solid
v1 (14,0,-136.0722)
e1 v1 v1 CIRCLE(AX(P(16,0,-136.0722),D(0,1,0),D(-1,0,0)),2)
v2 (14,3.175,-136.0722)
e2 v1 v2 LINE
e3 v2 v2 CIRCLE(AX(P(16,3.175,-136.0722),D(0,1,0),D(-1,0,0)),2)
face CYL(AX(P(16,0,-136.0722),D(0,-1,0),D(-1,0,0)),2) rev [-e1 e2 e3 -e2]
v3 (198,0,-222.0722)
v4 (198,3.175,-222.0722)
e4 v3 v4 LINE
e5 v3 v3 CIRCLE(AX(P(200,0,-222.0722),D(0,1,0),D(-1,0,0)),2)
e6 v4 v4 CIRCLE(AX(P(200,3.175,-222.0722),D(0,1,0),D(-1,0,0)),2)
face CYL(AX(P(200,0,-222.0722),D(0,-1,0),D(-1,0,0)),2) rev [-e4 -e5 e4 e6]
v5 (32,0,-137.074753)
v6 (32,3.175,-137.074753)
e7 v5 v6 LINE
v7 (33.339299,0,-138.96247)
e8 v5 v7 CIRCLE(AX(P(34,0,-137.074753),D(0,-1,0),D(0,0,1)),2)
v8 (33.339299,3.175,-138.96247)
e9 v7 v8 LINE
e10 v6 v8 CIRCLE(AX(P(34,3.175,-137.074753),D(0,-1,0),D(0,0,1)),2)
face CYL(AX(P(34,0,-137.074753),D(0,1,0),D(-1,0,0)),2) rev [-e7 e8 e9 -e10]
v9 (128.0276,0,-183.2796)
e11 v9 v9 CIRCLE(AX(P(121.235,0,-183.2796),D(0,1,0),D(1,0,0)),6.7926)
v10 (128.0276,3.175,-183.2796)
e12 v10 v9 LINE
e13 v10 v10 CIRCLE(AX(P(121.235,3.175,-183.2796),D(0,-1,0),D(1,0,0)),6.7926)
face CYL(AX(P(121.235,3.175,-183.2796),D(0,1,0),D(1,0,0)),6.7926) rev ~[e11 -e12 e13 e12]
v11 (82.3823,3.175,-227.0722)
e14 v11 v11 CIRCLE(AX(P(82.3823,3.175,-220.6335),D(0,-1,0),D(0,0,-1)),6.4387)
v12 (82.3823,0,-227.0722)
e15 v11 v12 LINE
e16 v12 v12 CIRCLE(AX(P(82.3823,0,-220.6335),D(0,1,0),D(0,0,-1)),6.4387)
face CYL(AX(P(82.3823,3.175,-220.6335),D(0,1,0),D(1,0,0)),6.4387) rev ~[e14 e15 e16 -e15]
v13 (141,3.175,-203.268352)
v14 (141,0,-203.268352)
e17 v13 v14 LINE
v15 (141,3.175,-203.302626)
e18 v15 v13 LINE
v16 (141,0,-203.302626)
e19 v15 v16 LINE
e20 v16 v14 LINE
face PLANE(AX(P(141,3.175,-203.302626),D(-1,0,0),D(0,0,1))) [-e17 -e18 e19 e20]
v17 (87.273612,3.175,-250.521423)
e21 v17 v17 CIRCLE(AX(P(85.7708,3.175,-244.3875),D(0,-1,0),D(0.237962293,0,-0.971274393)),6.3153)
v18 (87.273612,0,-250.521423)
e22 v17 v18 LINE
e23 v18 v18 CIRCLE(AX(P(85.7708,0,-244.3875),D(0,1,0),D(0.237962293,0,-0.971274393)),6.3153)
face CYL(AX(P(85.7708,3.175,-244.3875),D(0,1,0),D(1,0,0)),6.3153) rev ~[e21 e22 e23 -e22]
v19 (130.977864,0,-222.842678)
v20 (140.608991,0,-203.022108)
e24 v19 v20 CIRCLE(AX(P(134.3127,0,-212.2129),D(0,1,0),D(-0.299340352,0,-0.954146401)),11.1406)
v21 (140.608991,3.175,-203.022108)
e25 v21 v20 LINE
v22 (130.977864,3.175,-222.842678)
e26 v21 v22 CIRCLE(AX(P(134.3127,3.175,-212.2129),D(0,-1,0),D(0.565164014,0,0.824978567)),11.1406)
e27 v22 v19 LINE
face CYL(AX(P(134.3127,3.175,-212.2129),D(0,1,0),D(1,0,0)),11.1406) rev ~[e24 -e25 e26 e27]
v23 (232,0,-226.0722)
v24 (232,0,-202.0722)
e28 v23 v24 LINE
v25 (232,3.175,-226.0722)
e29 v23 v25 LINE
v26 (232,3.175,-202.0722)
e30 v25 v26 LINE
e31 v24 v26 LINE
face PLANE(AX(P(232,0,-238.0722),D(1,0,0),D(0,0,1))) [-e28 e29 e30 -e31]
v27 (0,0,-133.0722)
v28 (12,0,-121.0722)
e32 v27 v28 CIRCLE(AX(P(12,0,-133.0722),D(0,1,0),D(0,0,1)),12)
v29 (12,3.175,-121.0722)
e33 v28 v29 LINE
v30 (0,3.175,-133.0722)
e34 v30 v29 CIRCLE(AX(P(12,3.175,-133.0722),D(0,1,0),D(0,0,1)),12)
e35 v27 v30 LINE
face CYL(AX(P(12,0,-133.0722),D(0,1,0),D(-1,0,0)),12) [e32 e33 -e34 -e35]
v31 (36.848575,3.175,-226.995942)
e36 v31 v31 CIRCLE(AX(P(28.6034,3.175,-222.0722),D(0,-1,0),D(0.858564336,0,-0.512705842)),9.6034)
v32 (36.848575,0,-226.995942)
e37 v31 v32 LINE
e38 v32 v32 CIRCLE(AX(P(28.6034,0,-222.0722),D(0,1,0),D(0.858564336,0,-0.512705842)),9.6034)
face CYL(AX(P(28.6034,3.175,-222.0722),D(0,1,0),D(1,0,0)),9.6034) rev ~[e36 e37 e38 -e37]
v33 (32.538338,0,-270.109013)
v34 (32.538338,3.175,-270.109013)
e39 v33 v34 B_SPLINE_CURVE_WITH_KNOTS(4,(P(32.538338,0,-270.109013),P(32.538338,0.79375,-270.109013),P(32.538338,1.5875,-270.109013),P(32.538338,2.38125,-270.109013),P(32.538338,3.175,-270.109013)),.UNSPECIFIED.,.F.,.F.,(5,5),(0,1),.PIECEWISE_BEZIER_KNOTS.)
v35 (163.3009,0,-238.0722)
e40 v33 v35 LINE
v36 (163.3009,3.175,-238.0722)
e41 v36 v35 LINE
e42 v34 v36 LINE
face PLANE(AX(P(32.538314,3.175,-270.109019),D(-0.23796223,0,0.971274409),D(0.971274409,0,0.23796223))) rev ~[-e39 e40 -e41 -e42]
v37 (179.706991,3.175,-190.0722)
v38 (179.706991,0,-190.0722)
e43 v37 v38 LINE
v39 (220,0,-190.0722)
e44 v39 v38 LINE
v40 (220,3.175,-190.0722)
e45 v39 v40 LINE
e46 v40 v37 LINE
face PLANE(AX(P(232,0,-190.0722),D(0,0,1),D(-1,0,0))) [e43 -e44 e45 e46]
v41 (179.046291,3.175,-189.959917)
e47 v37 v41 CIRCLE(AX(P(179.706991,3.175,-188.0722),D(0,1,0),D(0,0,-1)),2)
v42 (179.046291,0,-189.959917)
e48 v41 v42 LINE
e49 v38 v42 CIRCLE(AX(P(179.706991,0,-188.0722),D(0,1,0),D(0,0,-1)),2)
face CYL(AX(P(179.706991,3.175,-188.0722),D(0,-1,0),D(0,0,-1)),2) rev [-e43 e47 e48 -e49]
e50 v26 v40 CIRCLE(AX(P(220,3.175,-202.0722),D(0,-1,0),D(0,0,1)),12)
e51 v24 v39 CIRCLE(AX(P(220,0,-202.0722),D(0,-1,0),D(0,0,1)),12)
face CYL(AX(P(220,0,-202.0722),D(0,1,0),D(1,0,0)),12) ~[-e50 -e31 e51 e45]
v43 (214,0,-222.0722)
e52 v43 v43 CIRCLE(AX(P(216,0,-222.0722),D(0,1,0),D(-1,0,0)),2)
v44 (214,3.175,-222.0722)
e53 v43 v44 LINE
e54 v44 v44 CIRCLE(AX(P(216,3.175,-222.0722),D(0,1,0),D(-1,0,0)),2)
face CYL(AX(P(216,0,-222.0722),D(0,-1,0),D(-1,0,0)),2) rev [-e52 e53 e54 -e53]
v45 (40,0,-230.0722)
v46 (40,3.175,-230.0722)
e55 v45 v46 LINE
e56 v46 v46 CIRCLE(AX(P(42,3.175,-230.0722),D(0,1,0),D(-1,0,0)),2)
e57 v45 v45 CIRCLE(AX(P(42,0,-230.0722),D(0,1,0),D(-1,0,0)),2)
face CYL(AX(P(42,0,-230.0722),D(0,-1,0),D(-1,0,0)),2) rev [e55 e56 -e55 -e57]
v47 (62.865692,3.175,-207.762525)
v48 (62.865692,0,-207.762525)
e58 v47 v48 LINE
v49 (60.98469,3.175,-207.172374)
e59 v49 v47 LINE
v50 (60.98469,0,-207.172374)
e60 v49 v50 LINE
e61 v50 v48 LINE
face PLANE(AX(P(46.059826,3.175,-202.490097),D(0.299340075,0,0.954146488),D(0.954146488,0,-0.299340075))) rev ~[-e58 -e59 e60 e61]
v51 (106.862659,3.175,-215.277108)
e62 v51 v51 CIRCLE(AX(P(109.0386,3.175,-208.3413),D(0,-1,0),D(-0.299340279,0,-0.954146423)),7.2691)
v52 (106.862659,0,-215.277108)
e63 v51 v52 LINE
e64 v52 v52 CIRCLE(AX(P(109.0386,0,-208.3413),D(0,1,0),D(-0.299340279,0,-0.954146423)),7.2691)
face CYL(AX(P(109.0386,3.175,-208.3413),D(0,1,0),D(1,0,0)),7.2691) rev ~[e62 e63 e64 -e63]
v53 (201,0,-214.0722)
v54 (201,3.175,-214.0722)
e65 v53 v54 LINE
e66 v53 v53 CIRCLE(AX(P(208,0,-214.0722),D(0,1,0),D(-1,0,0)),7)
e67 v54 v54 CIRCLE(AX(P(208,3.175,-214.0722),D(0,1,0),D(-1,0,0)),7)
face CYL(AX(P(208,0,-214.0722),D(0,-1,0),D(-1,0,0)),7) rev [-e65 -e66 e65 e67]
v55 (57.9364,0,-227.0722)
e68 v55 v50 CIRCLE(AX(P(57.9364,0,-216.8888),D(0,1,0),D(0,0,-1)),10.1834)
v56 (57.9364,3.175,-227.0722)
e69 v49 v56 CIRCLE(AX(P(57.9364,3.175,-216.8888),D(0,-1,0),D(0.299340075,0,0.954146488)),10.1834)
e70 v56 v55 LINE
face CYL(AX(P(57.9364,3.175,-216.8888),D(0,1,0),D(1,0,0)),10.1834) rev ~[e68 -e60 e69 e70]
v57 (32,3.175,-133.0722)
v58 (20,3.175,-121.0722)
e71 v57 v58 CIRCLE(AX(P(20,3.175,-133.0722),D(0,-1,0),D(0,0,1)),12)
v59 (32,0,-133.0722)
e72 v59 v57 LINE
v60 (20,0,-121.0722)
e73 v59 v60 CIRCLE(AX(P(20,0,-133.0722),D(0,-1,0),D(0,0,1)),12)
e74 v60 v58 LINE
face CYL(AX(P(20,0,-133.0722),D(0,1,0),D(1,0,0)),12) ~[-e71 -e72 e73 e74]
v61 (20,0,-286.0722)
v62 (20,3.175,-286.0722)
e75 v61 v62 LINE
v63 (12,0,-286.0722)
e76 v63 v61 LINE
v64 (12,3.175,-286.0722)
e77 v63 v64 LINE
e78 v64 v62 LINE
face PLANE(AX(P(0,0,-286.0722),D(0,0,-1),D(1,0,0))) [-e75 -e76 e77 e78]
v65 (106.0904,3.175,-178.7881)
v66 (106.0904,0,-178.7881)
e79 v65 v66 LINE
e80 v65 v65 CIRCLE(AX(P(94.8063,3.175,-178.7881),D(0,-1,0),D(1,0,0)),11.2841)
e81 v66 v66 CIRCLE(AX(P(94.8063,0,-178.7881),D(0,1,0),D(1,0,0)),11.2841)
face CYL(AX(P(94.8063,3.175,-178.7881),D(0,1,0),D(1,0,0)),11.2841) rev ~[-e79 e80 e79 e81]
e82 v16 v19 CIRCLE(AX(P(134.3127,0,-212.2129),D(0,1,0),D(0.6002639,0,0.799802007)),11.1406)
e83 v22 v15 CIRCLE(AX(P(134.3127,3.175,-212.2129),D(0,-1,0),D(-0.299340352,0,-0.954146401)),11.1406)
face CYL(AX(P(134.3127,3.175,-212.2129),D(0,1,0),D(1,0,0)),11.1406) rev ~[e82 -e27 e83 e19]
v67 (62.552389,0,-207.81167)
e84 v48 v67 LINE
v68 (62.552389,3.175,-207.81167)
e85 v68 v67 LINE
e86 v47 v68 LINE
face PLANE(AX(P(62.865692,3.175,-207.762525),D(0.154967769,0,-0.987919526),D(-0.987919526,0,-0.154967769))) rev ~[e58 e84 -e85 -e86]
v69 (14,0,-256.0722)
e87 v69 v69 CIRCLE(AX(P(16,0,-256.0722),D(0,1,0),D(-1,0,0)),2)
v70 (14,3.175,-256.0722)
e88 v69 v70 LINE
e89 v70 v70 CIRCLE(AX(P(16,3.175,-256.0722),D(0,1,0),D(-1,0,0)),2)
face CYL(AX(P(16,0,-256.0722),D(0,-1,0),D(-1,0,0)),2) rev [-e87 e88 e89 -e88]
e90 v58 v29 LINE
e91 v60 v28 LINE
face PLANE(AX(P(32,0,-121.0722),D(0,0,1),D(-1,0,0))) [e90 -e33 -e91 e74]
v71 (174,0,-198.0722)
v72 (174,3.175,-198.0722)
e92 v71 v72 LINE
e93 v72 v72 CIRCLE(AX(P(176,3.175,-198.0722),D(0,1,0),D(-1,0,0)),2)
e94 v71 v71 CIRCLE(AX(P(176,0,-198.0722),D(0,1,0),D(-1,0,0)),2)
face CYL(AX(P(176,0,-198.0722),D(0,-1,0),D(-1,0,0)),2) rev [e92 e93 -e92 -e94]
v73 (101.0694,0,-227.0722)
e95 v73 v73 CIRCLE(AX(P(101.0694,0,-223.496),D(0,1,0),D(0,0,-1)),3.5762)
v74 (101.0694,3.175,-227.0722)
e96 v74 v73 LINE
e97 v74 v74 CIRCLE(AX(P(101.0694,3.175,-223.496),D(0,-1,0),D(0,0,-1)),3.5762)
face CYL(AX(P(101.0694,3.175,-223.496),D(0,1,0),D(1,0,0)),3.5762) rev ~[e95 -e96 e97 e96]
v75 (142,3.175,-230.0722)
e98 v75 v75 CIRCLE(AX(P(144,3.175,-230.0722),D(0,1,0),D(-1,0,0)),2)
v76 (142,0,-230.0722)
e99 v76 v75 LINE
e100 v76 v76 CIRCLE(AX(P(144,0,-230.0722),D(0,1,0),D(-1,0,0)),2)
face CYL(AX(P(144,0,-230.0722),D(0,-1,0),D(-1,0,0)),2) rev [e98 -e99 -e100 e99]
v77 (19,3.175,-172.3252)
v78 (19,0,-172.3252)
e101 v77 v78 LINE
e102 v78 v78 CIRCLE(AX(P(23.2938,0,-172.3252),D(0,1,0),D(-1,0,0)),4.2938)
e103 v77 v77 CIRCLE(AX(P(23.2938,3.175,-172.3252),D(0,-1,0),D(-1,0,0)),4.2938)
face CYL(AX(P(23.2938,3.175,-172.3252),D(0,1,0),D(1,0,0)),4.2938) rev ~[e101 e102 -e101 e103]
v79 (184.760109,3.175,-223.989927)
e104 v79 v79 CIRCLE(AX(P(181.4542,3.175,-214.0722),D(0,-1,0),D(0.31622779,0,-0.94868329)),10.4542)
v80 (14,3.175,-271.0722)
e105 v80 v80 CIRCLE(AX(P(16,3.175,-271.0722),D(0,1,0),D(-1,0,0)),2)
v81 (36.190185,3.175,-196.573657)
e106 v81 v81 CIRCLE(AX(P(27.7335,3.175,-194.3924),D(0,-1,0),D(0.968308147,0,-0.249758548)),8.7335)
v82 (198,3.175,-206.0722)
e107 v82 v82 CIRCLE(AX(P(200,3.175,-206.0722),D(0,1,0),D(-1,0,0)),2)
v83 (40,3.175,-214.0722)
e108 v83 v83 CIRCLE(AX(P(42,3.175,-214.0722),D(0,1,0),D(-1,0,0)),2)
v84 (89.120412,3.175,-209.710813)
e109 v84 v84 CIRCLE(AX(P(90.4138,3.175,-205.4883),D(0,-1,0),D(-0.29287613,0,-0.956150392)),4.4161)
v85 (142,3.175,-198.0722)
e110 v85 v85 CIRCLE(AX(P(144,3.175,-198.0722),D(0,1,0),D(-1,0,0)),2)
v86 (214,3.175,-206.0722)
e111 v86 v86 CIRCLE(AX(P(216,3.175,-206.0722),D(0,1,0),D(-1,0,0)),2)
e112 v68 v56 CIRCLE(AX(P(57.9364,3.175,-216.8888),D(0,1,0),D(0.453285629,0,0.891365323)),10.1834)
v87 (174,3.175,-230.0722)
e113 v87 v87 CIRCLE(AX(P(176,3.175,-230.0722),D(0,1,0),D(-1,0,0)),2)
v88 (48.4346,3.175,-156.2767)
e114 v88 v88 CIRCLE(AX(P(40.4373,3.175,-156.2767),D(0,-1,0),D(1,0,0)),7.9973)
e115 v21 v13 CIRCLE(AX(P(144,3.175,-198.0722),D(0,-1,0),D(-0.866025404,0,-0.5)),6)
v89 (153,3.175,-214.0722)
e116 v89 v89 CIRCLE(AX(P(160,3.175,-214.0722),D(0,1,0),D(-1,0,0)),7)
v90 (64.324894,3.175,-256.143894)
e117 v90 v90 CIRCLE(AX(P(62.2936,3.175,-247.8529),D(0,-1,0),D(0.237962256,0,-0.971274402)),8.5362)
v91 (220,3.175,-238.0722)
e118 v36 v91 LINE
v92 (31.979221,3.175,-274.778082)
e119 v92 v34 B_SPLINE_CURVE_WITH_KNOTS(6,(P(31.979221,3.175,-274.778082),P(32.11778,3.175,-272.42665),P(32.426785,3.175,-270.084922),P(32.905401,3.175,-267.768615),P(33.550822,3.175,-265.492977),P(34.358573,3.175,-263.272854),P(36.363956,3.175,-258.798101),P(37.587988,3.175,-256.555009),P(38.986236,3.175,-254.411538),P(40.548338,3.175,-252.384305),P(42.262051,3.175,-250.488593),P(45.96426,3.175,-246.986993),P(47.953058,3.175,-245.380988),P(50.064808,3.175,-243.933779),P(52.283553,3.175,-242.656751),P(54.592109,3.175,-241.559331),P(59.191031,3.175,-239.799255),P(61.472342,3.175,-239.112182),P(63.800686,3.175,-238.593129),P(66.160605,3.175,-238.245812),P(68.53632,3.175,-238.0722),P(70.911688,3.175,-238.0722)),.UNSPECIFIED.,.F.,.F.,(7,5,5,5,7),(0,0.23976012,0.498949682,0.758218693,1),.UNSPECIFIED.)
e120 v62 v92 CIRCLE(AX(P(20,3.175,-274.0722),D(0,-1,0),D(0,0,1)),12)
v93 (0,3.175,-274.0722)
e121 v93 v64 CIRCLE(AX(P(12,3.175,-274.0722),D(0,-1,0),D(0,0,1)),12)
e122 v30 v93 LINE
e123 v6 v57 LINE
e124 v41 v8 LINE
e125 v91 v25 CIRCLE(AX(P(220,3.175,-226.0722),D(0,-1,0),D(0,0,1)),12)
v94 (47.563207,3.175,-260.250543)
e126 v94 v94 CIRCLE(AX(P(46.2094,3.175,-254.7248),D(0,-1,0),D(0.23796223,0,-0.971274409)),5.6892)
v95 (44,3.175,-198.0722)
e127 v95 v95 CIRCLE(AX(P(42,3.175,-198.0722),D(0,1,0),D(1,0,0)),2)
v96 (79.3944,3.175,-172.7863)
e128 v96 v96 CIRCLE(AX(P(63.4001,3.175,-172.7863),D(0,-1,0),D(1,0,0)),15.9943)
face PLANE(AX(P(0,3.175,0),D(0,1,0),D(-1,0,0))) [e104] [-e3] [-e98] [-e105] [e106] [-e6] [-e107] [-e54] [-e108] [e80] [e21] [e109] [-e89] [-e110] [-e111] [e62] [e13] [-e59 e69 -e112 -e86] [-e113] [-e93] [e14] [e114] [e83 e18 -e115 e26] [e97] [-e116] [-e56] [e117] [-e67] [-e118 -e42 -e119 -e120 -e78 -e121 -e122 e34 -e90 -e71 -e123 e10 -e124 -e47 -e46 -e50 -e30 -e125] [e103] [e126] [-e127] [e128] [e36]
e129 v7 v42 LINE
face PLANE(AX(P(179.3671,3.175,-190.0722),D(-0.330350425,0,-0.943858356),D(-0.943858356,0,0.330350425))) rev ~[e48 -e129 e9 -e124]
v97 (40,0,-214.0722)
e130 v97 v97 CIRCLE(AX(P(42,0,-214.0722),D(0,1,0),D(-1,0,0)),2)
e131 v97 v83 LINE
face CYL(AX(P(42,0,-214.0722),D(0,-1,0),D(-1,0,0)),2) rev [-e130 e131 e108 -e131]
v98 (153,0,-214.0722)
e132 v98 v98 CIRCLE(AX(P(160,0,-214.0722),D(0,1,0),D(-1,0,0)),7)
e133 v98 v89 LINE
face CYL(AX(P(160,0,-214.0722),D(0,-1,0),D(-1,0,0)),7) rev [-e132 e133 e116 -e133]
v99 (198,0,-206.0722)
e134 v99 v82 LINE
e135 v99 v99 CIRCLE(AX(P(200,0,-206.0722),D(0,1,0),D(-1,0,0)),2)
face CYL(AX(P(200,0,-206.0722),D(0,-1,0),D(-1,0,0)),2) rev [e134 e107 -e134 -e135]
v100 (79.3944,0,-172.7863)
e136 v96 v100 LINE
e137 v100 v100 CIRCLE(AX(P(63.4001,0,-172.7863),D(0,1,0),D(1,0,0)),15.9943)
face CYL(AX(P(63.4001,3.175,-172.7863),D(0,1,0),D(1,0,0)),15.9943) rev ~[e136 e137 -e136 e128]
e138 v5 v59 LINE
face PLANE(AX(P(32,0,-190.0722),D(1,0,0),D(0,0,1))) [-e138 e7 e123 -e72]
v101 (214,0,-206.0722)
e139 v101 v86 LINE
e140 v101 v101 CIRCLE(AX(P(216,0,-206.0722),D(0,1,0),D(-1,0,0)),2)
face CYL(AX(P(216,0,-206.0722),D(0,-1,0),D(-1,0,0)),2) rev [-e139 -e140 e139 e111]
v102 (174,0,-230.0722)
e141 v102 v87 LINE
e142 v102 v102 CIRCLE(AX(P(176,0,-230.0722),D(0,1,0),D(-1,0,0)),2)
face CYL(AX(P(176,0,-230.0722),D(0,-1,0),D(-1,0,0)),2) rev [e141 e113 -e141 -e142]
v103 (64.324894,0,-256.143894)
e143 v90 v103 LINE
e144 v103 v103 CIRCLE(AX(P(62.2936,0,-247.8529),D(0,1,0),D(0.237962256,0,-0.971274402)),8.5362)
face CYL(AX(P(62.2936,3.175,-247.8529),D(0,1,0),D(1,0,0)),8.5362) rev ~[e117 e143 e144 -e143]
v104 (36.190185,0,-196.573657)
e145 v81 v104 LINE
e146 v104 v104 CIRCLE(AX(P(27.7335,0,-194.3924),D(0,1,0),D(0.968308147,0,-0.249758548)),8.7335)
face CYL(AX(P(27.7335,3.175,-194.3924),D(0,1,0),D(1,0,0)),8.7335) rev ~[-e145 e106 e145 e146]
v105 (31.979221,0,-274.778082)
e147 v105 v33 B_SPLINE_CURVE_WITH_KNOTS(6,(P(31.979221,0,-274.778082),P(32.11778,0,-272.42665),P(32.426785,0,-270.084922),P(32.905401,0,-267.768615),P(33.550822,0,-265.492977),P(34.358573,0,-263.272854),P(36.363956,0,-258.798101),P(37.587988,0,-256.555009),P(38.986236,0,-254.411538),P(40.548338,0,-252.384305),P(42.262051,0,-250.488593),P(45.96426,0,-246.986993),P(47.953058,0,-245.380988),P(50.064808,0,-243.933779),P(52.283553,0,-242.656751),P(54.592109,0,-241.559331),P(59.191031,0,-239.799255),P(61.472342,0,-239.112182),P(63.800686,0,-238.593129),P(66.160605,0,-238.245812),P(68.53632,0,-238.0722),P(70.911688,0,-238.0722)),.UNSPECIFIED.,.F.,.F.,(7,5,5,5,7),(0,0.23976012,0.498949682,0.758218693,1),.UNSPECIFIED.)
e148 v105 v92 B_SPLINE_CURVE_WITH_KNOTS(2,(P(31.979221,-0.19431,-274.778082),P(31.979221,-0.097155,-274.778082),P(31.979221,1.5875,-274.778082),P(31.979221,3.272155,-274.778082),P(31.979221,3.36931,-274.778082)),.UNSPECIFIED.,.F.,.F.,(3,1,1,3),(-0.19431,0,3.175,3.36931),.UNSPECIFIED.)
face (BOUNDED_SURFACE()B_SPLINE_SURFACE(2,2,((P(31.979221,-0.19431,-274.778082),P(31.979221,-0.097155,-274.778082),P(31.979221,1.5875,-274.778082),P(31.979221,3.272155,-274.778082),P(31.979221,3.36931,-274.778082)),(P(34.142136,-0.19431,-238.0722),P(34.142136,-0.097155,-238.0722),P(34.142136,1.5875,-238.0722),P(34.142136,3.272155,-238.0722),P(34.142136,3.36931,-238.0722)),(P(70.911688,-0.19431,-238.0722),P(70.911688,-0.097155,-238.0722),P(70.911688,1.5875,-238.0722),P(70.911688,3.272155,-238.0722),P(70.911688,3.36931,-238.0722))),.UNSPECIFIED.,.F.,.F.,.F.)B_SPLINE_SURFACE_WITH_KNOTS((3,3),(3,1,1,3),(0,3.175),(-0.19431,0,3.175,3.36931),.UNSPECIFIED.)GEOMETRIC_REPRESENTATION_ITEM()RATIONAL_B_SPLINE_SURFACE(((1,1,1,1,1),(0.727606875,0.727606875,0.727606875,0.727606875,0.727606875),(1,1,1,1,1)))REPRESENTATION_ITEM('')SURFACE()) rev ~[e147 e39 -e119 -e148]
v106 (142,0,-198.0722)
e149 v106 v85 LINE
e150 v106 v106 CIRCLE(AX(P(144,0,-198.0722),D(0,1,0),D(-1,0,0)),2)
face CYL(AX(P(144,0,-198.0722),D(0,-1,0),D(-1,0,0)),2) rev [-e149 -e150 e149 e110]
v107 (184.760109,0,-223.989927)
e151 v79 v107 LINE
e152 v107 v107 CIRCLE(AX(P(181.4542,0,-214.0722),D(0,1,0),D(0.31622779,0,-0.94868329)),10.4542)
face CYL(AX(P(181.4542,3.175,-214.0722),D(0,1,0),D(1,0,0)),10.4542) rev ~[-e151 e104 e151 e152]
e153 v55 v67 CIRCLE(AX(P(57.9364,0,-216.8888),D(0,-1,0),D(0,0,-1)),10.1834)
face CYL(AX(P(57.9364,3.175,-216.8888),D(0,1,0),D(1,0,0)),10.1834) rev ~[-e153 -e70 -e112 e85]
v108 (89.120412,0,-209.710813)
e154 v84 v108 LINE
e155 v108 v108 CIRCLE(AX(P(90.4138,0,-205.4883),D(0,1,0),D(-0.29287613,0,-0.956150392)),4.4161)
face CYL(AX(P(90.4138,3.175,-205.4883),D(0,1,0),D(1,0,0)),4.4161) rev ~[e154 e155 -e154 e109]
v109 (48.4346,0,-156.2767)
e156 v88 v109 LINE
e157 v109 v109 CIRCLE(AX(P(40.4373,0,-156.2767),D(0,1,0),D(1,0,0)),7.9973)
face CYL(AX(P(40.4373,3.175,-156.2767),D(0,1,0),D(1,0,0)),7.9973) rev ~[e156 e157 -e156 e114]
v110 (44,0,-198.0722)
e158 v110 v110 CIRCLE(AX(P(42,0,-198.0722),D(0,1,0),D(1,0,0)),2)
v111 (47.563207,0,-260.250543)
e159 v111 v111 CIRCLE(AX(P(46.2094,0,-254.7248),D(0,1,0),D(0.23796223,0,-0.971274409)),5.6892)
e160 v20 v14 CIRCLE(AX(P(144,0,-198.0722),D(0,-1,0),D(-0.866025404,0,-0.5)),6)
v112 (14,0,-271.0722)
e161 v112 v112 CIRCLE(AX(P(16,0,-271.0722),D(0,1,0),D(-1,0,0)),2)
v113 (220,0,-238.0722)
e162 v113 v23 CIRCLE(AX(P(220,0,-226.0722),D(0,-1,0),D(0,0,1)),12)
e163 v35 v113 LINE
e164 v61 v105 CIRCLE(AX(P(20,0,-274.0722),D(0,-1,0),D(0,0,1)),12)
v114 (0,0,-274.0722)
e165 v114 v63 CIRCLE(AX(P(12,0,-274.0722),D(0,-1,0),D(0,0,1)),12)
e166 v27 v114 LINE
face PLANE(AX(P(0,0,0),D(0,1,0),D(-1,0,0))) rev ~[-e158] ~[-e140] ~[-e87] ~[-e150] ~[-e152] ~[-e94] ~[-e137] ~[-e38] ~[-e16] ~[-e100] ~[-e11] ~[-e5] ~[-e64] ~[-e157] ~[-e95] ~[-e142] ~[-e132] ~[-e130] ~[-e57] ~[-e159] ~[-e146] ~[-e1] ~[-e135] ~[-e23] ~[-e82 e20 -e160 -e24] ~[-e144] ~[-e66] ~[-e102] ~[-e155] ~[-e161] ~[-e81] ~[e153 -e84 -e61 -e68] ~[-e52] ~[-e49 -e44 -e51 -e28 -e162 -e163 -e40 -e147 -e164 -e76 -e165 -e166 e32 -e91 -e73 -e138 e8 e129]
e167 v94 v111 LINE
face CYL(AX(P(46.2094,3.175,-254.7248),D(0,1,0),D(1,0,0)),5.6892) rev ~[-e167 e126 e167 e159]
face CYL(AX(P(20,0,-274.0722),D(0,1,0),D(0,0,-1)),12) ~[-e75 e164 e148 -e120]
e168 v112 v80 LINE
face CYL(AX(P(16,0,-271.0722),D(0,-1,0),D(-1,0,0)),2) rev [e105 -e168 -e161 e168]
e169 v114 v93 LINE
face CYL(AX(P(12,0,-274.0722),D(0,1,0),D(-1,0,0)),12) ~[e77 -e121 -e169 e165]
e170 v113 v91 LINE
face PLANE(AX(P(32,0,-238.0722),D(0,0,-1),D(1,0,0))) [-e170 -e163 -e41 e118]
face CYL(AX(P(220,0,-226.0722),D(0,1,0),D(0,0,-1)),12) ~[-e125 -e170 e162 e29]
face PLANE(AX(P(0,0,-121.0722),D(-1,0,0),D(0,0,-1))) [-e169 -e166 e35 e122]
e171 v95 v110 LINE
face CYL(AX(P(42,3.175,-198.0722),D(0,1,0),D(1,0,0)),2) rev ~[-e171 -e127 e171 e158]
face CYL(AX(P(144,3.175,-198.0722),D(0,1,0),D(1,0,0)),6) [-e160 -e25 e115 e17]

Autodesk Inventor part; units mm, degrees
ref_plane "YZ Plane" through (0, 0, 0) normal (1, 0, 0) x (0, 1, 0)
ref_plane "XZ Plane" through (0, 0, 0) normal (0, 1, 0) x (-1, 0, 0)
ref_plane "XY Plane" through (0, 0, 0) normal (0, 0, 1) x (1, 0, 0)
sketch "Sketch1" plane through (0, 0, 0) normal (0, 1, 0) x (-1, 0, 0)
  line L0 (0, 0) -> (0, -286.0722)
  line L1 (0, -286.0722) -> (-32, -286.0722)
  line L2 (-32, -286.0722) -> (-32, -238.0722)
  line L3 (-32, -238.0722) -> (-232, -238.0722)
  line L4 (-232, -238.0722) -> (-232, -190.0722)
  line L5 (-232, -190.0722) -> (-32, -190.0722)
  circle A0 centre (-16, -271.0722) radius 2
  circle A1 centre (-16, -256.0722) radius 2
  circle A2 centre (-16, -136.0722) radius 2
  circle A3 centre (-208, -214.0722) radius 7
  circle A4 centre (-160, -214.0722) radius 7
  circle A5 centre (-42, -230.0722) radius 2
  circle A6 centre (-144, -230.0722) radius 2
  circle A7 centre (-144, -198.0722) radius 2
  circle A8 centre (-176, -198.0722) radius 2
  circle A9 centre (-176, -230.0722) radius 2
  circle A10 centre (-200, -222.0722) radius 2
  circle A11 centre (-216, -222.0722) radius 2
  circle A12 centre (-216, -206.0722) radius 2
  circle A13 centre (-200, -206.0722) radius 2
  circle A14 centre (-42, -214.0722) radius 2
  line L6 (-32, -121.0722) -> (0, -121.0722)
  line L7 (-32, -190.0722) -> (-32, -121.0722)
  point P0 (-32, 0)
  point P1 (-16, -286.0722)
  point P2 (-232, -214.0722)
  dimension "d1" = 32
  dimension "d2" = 48
  dimension "d3" = 48
  dimension "d4" = 4
  dimension "d5" = 4
  dimension "d6" = 4
  dimension "d9" = 150
  dimension "d10" = 15
  dimension "d11" = 30
  dimension "d14" = 216
  dimension "d15" = 14
  dimension "d16" = 14
  dimension "d17" = 24
  dimension "d18" = 48
  dimension "d21" = 4
  dimension "d22" = 8
  dimension "d23" = 42
  dimension "d24" = 4
  dimension "d25" = 4
  dimension "d26" = 4
  dimension "d27" = 4
  dimension "d28" = 32
  dimension "d29" = 32
  dimension "d30" = 16
  dimension "d31" = 16
  dimension "d32" = 4
  dimension "d33" = 4
  dimension "d34" = 4
  dimension "d35" = 4
  dimension "d36" = 16
  dimension "d37" = 16
  dimension "d38" = 8
  dimension "d39" = 8
  dimension "d55" = 4
  dimension "d56" = 16
  dimension "d64" = 15
  dimension "d65" = 69
extrude "Extrusion1" add sketch "Sketch1" along normal blind 3.175
fillet "Fillet1" radius 12 6 edges at (232, 1.5875, -190.0722) (232, 1.5875, -238.0722) (32, 1.5875, -286.0722) (0, 1.5875, -286.0722) (32, 1.5875, -121.0722) (0, 1.5875, -121.0722)
fillet "Fillet2" radius 39 2 edges at (32, 1.5875, -190.0722) (32, 1.5875, -238.0722)
sketch "Sketch2" plane through (0, 3.175, 0) normal (0, 1, 0) x (1, 0, 0)
  circle A0 centre (16, 271.0722) radius 2 construction
  circle A1 centre (16, 271.0722) radius 3 construction
  circle A2 centre (16, 256.0722) radius 3 construction
  circle A3 centre (16, 256.0722) radius 2 construction
  circle A4 centre (42, 230.0722) radius 2 construction
  arc A5 (39.8787, 227.9509) -> (39.1086, 230.872) centre (42, 230.0722) ccw construction
  circle A6 centre (16, 136.0722) radius 2 construction
  circle A7 centre (16, 136.0722) radius 3 construction
  circle A8 centre (144, 230.0722) radius 2 construction
  circle A9 centre (144, 230.0722) radius 3 construction
  circle A10 centre (176, 230.0722) radius 2 construction
  circle A11 centre (176, 230.0722) radius 3 construction
  circle A12 centre (176, 198.0722) radius 2 construction
  circle A13 centre (176, 198.0722) radius 3 construction
  circle A14 centre (144, 198.0722) radius 2 construction
  circle A15 centre (144, 198.0722) radius 3 construction
  circle A16 centre (216, 222.0722) radius 2 construction
  circle A17 centre (216, 222.0722) radius 3 construction
  circle A18 centre (216, 206.0722) radius 2 construction
  circle A19 centre (216, 206.0722) radius 3 construction
  circle A20 centre (200, 206.0722) radius 2 construction
  circle A21 centre (200, 206.0722) radius 3 construction
  circle A22 centre (16, 136.0722) radius 2 construction
  circle A23 centre (176, 230.0722) radius 2 construction
  circle A24 centre (200, 222.0722) radius 3 construction
  circle A25 centre (200, 222.0722) radius 2 construction
  circle A26 centre (200, 206.0722) radius 2 construction
  circle A27 centre (216, 206.0722) radius 2 construction
  circle A28 centre (216, 222.0722) radius 2 construction
  line L0 (13, 136.0722) -> (13, 256.0722)
  line L1 (44.1213, 232.1935) -> (18.1213, 258.1935)
  line L2 (19, 256.0722) -> (19, 135.5292)
  line L3 (39.8787, 227.9509) -> (13.8787, 253.9509)
  circle A29 centre (16, 256.0722) radius 6
  circle A30 centre (42, 230.0722) radius 6
  circle A31 centre (16, 136.0722) radius 6
  circle A32 centre (42, 214.0722) radius 3 construction
  circle A33 centre (42, 214.0722) radius 2 construction
  circle A34 centre (42, 214.0722) radius 6
  line L4 (39, 214.0722) -> (39, 228.8296)
  line L5 (45, 213.5854) -> (45, 230.0722)
  line L6 (39.6062, 233.0722) -> (144, 233.0722)
  line L7 (147, 230.0722) -> (147, 198.0722)
  line L8 (141, 230.0722) -> (141, 198.0722)
  line L9 (144, 227.0722) -> (42, 227.0722)
  line L10 (143.5351, 195.1085) -> (41.5351, 211.1085)
  line L11 (42.4649, 217.036) -> (144.4649, 201.036)
  circle A35 centre (144, 230.0722) radius 6
  circle A36 centre (144, 198.0722) radius 6
  circle A37 centre (42, 198.0722) radius 2
  circle A38 centre (42, 198.0722) radius 3 construction
  circle A39 centre (42, 198.0722) radius 6
  line L12 (42, 201.0722) -> (144.2339, 201.0722)
  line L13 (42, 195.0722) -> (144, 195.0722)
  line L14 (45, 223.4471) -> (45, 216.6383)
  line L15 (45, 214.0722) -> (45, 198.0722)
  line L16 (39, 198.0722) -> (39, 223.6428)
  line L17 (13.2334, 137.2324) -> (39.2334, 199.2324)
  line L18 (18.7666, 134.912) -> (44.7666, 196.912)
  circle A40 centre (176, 230.0722) radius 6
  circle A41 centre (176, 198.0722) radius 2 projected
  circle A42 centre (176, 198.0722) radius 6
  circle A43 centre (200, 206.0722) radius 6
  circle A44 centre (200, 222.0722) radius 6
  circle A45 centre (216, 222.0722) radius 6
  circle A46 centre (216, 206.0722) radius 6
  line L19 (175.0513, 227.2262) -> (199.0513, 219.2262)
  line L20 (197, 222.0722) -> (197, 206.0722)
  line L21 (199.0513, 208.9183) -> (175.0513, 200.9183)
  line L22 (179, 230.0722) -> (179, 198.0722)
  circle A47 centre (3, 196.0722) radius 3 construction
  line L23 (0, 274.0722) -> (0, 133.0722) construction
  circle A48 centre (160, 214.0722) radius 3 construction
  circle A49 centre (160, 214.0722) radius 7 construction
  line L24 (157.8787, 216.1935) -> (141.8787, 200.1935)
  line L25 (141.8787, 227.9509) -> (157.8787, 211.9509)
  circle A50 centre (160, 214.0722) radius 11
  circle A51 centre (208, 214.0722) radius 3 construction
  circle A52 centre (208, 214.0722) radius 7 construction
  line L26 (197.8787, 219.9509) -> (205.8787, 211.9509)
  line L27 (205.8787, 216.1935) -> (197.8787, 208.1935)
  circle A53 centre (208, 214.0722) radius 11
  line L28 (41.102, 200.9347) -> (143.102, 232.9347)
  line L29 (155.4834, 230.5307) -> (160.4569, 232.091)
  line L30 (144.898, 227.2098) -> (42.4595, 195.0722)
  line L31 (15.0089, 138.9038) -> (215.0089, 208.9038)
  line L32 (216.9911, 203.2406) -> (16.9911, 133.2406)
  line L33 (16.7139, 273.986) -> (216.7139, 224.986)
  line L34 (215.2861, 219.1584) -> (15.2861, 268.1584)
  circle A54 centre (16, 271.0722) radius 6
  line L35 (178.1213, 227.9509) -> (162.1213, 211.9509)
  line L36 (162.1213, 216.1935) -> (178.1213, 200.1935)
  line L37 (220, 238.0722) -> (70.9117, 238.0722) projected
  line L38 (163.3009, 238.0722) -> (138.0868, 238.0722)
  circle A55 centre (62.2936, 247.8529) radius 8.5362
  circle A56 centre (85.7708, 244.3875) radius 6.3153
  circle A57 centre (46.2094, 254.7248) radius 5.6892
  circle A58 centre (28.6034, 222.0722) radius 9.6034
  circle A59 centre (27.7335, 194.3924) radius 8.7335
  circle A60 centre (23.2938, 172.3252) radius 4.2938
  circle A61 centre (57.9364, 216.8888) radius 10.1834
  circle A62 centre (82.3823, 220.6335) radius 6.4387
  circle A63 centre (134.3127, 212.2129) radius 11.1406
  circle A64 centre (109.0386, 208.3413) radius 7.2691
  circle A65 centre (181.4542, 214.0722) radius 10.4542
  arc A66 (31.9792, 274.7781) -> (70.9117, 238.0722) centre (70.9117, 277.0722) ccw projected
  circle A67 centre (63.4001, 172.7863) radius 15.9943
  circle A68 centre (121.235, 183.2796) radius 6.7926
  circle A69 centre (94.8063, 178.7881) radius 11.2841
  circle A70 centre (40.4373, 156.2767) radius 7.9973
  circle A71 centre (90.4138, 205.4883) radius 4.4161
  circle A72 centre (101.0694, 223.496) radius 3.5762
  arc A73 (71, 190.0722) -> (32, 151.0722) centre (71, 151.0722) ccw projected
  line L39 (71, 190.0722) -> (220, 190.0722) projected
  point P0 (0, 0)
  point P1 (19, 248.8296)
  point P2 (36.2044, 231.6251)
  point P3 (39, 219.2684)
  point P4 (39, 224.8761)
  point P5 (141, 224.8761)
  point P6 (138.8038, 227.0722)
  point P7 (47.1962, 227.0722)
  point P8 (45, 224.8761)
  point P9 (45, 219.2684)
  point P10 (47.5983, 216.2307)
  point P11 (141, 201.5795)
  point P12 (45, 210.5649)
  point P13 (45, 203.2684)
  point P14 (47.1962, 201.0722)
  point P15 (105.5161, 201.0722)
  point P16 (45, 208.8761)
  point P17 (46.6685, 210.3032)
  point P18 (139.3315, 201.8412)
  point P19 (141, 203.2684)
  point P20 (19, 150.9835)
  point P21 (37.2239, 194.4405)
  point P22 (39, 203.2684)
  point P23 (39, 208.8761)
  point P24 (179, 224.8761)
  point P25 (179, 203.2684)
  point P26 (179.9808, 202.5614)
  point P27 (194.1218, 207.2751)
  point P28 (197, 211.2684)
  point P29 (197, 216.8761)
  point P30 (194.1218, 220.8693)
  point P31 (179.9808, 225.583)
  point P32 (0, 12)
  point P33 (13, 196.0722)
  point P34 (150.3954, 208.7102)
  point P35 (150.3954, 219.4342)
  point P36 (145.5529, 224.2767)
  point P37 (145.5529, 203.8678)
  point P38 (0, 121.0722)
  point P39 (197, 214.0722)
  point P40 (197.3195, 216.7042)
  point P41 (197.3195, 211.4402)
  point P42 (168.1087, 206.6392)
  point P43 (168.1087, 221.5052)
  point P44 (45, 201.0722)
  point P45 (45, 216.6383)
  point P46 (45, 227.0722)
  point P47 (141, 227.0722)
  point P48 (179, 225.9099)
  point P49 (179, 202.2345)
  point P50 (197, 208.2345)
  point P51 (197, 219.9099)
  point P52 (205.368, 224.7527)
  point P53 (205.368, 203.3917)
  point P54 (138.8038, 201.0722)
  point P55 (46.0599, 202.4901)
  point P56 (124.4155, 227.0722)
  point P57 (139.9401, 225.6544)
  point P58 (61.5845, 201.0722)
  point P59 (21.8955, 134.9572)
  point P60 (212.0866, 201.5241)
  point P61 (210.632, 203.3917)
  point P62 (195.5189, 202.0823)
  point P63 (21.3749, 141.1319)
  point P64 (20.7761, 139.7039)
  point P65 (21.7608, 272.7495)
  point P66 (20.333, 266.9219)
  point P67 (170.0027, 230.2528)
  point P68 (181.4016, 227.4601)
  point P69 (194.4175, 224.2712)
  point P70 (210.632, 224.7527)
  point P71 (211.667, 226.2225)
  point P72 (180.6925, 233.8113)
  point P73 (201.0952, 222.6352)
  point P74 (205.9668, 221.4416)
  point P75 (210.2392, 220.3949)
  point P76 (173.5673, 235.5569)
  point P77 (218.6805, 216.7042)
  point P78 (169.6046, 208.7102)
  point P79 (174.4471, 203.8678)
  point P80 (174.4471, 224.2767)
  point P81 (169.6046, 219.4342)
  point P82 (90.4138, 201.0722)
  point P83 (89.0919, 209.702)
  point P84 (171, 214.0722)
  point P85 (184.7601, 223.9899)
  point P86 (184.7601, 204.1545)
  point P87 (106.8627, 215.2771)
  point P88 (109.0386, 201.0722)
  point P89 (134.3127, 201.0722)
  point P90 (130.9779, 222.8427)
  point P91 (140.609, 203.0221)
  point P92 (141, 203.3025)
  point P93 (147, 205.3149)
  point P94 (147, 203.2684)
  point P95 (138.8038, 195.0722)
  point P96 (47.1962, 195.0722)
  point P97 (42.7571, 192.1202)
  point P98 (43.0792, 148.7284)
  point P99 (68.6838, 157.69)
  point P100 (98.534, 168.1376)
  point P101 (123.4789, 176.8683)
  point P102 (171.805, 193.7824)
  point P103 (89.1348, 209.7152)
  point P104 (89.1343, 209.7153)
  point P105 (102.1399, 220.0838)
  point P106 (101.0694, 227.0722)
  point P107 (82.3823, 227.0722)
  point P108 (84.3097, 214.49)
  point P109 (57.9364, 227.0722)
  point P110 (67.3986, 213.1248)
  point P111 (75.7716, 211.8114)
  point P112 (47.9084, 215.1165)
  point P113 (60.9847, 207.1724)
  point P114 (34.3544, 263.4866)
  point P115 (41.9905, 250.9081)
  point P116 (47.5632, 260.2505)
  point P117 (59.8787, 239.6654)
  point P118 (64.3249, 256.1439)
  point P119 (85.7708, 238.0722)
  point P120 (87.2736, 250.5215)
  point P121 (27.2534, 170.6647)
  point P122 (35.7874, 191.015)
  point P123 (19, 194.3924)
  point P124 (19, 172.3252)
  point P125 (36.1901, 196.5737)
  point P126 (36.8486, 217.1485)
  point P127 (19, 222.0722)
  point P128 (36.8486, 226.996)
  point P129 (62.5523, 207.8116)
  point P130 (62.8657, 207.7625)
  dimension "d48" = 6
  dimension "d52" = 12
  dimension "d53" = 12
  dimension "d54" = 12
  dimension "d59" = 4
  dimension "d60" = 16
  dimension "d63" = 22
  dimension "d66" = 22
extrude "Extrusion3" add sketch "Sketch2" against normal blind 3.175 contours A31 L18 L31 L39 L32 | L39 L31 A42 A43 A53 A46 L32 | L31 A42
fillet "Fillet13" radius 2 4 edges at (161.2044, 1.5875, -190.0722) (32, 1.5875, -144.8507) (32, 1.5875, -138.4938) (179.367, 1.5875, -190.0722)
extrude "Extrusion4" cut sketch "Sketch2" against normal through all contours L2 A60 L17 | L3 A30 A58 L2 | L2 A59 L17 A60 | A60 | A58 A34 L16 A39 A59 L2 | A58 | A59 | A59 A39 L17 | A30 L4 A34 A58 | L36 A50 A65 L22 A42 | L22 A65 L21 A42 | L9 A61 L11 A34 L5 A30 | A34 L10 A61 L28 A39 L15 | L21 A65 L19 A44 L20 A43 | A65 L22 | L22 A65 | L24 L7 L25 A50 | A50 L35 A40 L22 A65 | L9 A62 L28 L11 A61 | A61 L11 | L28 A72 L9 | L11 A61 A34 | A34 A61 L10 | L30 L10 A71 L12 | L20 A53 A43 | L22 A40 L19 A65 | L24 A36 L8 A63 A35 L25 L7 | L9 A72 L28 A62 | A62 | L11 A61 L10 | A35 L8 A63 L30 | A72 | L10 A61 | A71 L10 L12 | A71 L10 | L30 A71 L10 | L10 A71 L11 A64 L12 | L12 A63 L11 A36 | A61 L10 L28 | L20 A44 A53 | L11 L28 L10 A61 | A63 L11 A64 L30 | A63 L8 L11 | A71 L11 L10 | A71 L11 | L30 A64 L11 A71 | A64 L11 A63 L12 | A64 L11 | L11 A63 A36 | A63 L11 | A36 A63 L8 | A63 L8 | A64 L11 | A37
extrude "Extrusion5" add sketch "Sketch2" against normal blind 3.175 contours L34 A66 L33 L37 | A66 L34 A54 L33
fillet "Fillet14" radius 1 6 edges at (34.3544, 1.5875, -263.4866) (138.0868, 1.5875, -238.0722) (124.4155, 1.5875, -227.0722) (61.5845, 1.5875, -201.0722) (19, 1.5875, -248.8296) (19, 1.5875, -150.9835)
sketch "Sketch3" plane through (0, 3.175, 0) normal (0, 1, 0) x (1, 0, 0)
  circle A0 centre (57.9364, 216.8888) radius 10.1834
  circle A1 centre (134.3127, 212.2129) radius 11.1406
  circle A2 centre (111.8448, 208.7712) radius 7.699
  circle A3 centre (78.2974, 220.0078) radius 7.0645
  circle A4 centre (60.7074, 171.7481) radius 15.9039
  circle A5 centre (98.1394, 179.3546) radius 10.7176
  circle A6 centre (27.7335, 194.3924) radius 8.7335
  circle A7 centre (181.4542, 214.0722) radius 10.4542
  circle A8 centre (59.7662, 248.5937) radius 8.4181
  line L0 (67.8134, 203.0264) -> (139.9401, 225.6544) projected
  line L1 (138.8038, 201.0722) -> (68.1127, 201.0722) projected
  arc A9 (145.5529, 203.8678) -> (138.8038, 201.0722) centre (144, 198.0722) ccw projected
  line L2 (47.1962, 227.0722) -> (117.8873, 227.0722) projected
  line L3 (118.1866, 225.1181) -> (46.0599, 202.4901) projected
  arc A10 (45, 208.8761) -> (45, 219.2684) centre (42, 214.0722) ccw projected
  line L4 (179.9808, 225.583) -> (194.1218, 220.8693) projected
  arc A11 (169.6046, 208.7102) -> (169.6046, 219.4342) centre (160, 214.0722) ccw projected
  line L5 (194.1218, 207.2751) -> (179.9808, 202.5614) projected
  line L6 (36.244, 263.0237) -> (130.0408, 240.0435) projected
  arc A12 (35.0874, 261.6572) -> (70.9117, 238.0722) centre (70.9117, 277.0722) ccw projected
  line L7 (37.2239, 194.4405) -> (20.9222, 155.5672) projected
  line L8 (19, 155.9539) -> (19, 246.4154) projected
  arc A13 (39, 203.2684) -> (37.2239, 194.4405) centre (42, 198.0722) ccw projected
  line L9 (20.7071, 247.1225) -> (36.2044, 231.6251) projected
  arc A14 (36.2044, 231.6251) -> (39, 224.8761) centre (42, 230.0722) ccw projected
  arc A15 (71, 190.0722) -> (32, 151.0722) centre (71, 151.0722) ccw projected
  line L10 (150.0967, 186.1845) -> (34.6607, 145.7819) projected
  line L11 (71, 190.0722) -> (149.436, 190.0722) projected
  circle A16 centre (28.6034, 222.0722) radius 9.6034
  arc A17 (39, 219.2684) -> (39, 208.8761) centre (42, 214.0722) ccw projected
  circle A18 centre (81.0551, 244.9568) radius 6.8846
  line L12 (129.8029, 238.0722) -> (70.9117, 238.0722) projected
  circle A19 centre (95.3425, 222.6188) radius 4.4535
  circle A20 centre (90.6175, 205.5195) radius 4.4473
  circle A21 centre (99.9044, 242.6814) radius 4.6092
  circle A22 centre (38.2944, 153.6177) radius 6.1955
  circle A23 centre (125.2664, 183.9647) radius 6.1075
  circle A24 centre (23.8213, 174.9475) radius 4.8213
  circle A25 centre (43.6168, 256.3483) radius 4.7292
  point P0 (0, 0)
extrude "Extrusion6" add sketch "Sketch2" against normal up to surface (3.175 mm away) contours L2 A60 L17 | L3 A30 A58 L2 | L2 A59 L17 A60 | L39 A73 A70 L31 L18 A39 L13 A36 L7 L24 A50 L36 A42 | L31 A68 L39 | A58 A34 L16 A39 A59 L2 | A59 A39 L17 | L31 A69 L39 A68 | A30 L4 A34 A58 | A70 A73 A67 L31 | L31 A67 A73 L39 A69 | L36 A50 A65 L22 A42 | L22 A65 L21 A42 | L9 A61 L11 A34 L5 A30 | A34 L10 A61 L28 A39 L15 | L21 A65 L19 A44 L20 A43 | L24 L7 L25 A50 | A50 L35 A40 L22 A65 | L9 A62 L28 L11 A61 | L28 A72 L9 | L11 A61 A34 | A34 A61 L10 | L30 L10 A71 L12 | L20 A53 A43 | L22 A40 L19 A65 | L24 A36 L8 A63 A35 L25 L7 | L9 A72 L28 A62 | A35 L8 A63 L30 | A71 L10 L12 | L30 A71 L10 | L10 A71 L11 A64 L12 | L12 A63 L11 A36 | L20 A44 A53 | L11 L28 L10 A61 | A63 L11 A64 L30 | L30 A64 L11 A71 | A64 L11 A63 L12 | L11 A63 A36 | L37 A56 L34 | A56 L37 A66 A55 L34 | A55 A66 A57 L34 | L34 A57 A66
properties part number "slidesthingcircle" material "Aluminum 6061"
